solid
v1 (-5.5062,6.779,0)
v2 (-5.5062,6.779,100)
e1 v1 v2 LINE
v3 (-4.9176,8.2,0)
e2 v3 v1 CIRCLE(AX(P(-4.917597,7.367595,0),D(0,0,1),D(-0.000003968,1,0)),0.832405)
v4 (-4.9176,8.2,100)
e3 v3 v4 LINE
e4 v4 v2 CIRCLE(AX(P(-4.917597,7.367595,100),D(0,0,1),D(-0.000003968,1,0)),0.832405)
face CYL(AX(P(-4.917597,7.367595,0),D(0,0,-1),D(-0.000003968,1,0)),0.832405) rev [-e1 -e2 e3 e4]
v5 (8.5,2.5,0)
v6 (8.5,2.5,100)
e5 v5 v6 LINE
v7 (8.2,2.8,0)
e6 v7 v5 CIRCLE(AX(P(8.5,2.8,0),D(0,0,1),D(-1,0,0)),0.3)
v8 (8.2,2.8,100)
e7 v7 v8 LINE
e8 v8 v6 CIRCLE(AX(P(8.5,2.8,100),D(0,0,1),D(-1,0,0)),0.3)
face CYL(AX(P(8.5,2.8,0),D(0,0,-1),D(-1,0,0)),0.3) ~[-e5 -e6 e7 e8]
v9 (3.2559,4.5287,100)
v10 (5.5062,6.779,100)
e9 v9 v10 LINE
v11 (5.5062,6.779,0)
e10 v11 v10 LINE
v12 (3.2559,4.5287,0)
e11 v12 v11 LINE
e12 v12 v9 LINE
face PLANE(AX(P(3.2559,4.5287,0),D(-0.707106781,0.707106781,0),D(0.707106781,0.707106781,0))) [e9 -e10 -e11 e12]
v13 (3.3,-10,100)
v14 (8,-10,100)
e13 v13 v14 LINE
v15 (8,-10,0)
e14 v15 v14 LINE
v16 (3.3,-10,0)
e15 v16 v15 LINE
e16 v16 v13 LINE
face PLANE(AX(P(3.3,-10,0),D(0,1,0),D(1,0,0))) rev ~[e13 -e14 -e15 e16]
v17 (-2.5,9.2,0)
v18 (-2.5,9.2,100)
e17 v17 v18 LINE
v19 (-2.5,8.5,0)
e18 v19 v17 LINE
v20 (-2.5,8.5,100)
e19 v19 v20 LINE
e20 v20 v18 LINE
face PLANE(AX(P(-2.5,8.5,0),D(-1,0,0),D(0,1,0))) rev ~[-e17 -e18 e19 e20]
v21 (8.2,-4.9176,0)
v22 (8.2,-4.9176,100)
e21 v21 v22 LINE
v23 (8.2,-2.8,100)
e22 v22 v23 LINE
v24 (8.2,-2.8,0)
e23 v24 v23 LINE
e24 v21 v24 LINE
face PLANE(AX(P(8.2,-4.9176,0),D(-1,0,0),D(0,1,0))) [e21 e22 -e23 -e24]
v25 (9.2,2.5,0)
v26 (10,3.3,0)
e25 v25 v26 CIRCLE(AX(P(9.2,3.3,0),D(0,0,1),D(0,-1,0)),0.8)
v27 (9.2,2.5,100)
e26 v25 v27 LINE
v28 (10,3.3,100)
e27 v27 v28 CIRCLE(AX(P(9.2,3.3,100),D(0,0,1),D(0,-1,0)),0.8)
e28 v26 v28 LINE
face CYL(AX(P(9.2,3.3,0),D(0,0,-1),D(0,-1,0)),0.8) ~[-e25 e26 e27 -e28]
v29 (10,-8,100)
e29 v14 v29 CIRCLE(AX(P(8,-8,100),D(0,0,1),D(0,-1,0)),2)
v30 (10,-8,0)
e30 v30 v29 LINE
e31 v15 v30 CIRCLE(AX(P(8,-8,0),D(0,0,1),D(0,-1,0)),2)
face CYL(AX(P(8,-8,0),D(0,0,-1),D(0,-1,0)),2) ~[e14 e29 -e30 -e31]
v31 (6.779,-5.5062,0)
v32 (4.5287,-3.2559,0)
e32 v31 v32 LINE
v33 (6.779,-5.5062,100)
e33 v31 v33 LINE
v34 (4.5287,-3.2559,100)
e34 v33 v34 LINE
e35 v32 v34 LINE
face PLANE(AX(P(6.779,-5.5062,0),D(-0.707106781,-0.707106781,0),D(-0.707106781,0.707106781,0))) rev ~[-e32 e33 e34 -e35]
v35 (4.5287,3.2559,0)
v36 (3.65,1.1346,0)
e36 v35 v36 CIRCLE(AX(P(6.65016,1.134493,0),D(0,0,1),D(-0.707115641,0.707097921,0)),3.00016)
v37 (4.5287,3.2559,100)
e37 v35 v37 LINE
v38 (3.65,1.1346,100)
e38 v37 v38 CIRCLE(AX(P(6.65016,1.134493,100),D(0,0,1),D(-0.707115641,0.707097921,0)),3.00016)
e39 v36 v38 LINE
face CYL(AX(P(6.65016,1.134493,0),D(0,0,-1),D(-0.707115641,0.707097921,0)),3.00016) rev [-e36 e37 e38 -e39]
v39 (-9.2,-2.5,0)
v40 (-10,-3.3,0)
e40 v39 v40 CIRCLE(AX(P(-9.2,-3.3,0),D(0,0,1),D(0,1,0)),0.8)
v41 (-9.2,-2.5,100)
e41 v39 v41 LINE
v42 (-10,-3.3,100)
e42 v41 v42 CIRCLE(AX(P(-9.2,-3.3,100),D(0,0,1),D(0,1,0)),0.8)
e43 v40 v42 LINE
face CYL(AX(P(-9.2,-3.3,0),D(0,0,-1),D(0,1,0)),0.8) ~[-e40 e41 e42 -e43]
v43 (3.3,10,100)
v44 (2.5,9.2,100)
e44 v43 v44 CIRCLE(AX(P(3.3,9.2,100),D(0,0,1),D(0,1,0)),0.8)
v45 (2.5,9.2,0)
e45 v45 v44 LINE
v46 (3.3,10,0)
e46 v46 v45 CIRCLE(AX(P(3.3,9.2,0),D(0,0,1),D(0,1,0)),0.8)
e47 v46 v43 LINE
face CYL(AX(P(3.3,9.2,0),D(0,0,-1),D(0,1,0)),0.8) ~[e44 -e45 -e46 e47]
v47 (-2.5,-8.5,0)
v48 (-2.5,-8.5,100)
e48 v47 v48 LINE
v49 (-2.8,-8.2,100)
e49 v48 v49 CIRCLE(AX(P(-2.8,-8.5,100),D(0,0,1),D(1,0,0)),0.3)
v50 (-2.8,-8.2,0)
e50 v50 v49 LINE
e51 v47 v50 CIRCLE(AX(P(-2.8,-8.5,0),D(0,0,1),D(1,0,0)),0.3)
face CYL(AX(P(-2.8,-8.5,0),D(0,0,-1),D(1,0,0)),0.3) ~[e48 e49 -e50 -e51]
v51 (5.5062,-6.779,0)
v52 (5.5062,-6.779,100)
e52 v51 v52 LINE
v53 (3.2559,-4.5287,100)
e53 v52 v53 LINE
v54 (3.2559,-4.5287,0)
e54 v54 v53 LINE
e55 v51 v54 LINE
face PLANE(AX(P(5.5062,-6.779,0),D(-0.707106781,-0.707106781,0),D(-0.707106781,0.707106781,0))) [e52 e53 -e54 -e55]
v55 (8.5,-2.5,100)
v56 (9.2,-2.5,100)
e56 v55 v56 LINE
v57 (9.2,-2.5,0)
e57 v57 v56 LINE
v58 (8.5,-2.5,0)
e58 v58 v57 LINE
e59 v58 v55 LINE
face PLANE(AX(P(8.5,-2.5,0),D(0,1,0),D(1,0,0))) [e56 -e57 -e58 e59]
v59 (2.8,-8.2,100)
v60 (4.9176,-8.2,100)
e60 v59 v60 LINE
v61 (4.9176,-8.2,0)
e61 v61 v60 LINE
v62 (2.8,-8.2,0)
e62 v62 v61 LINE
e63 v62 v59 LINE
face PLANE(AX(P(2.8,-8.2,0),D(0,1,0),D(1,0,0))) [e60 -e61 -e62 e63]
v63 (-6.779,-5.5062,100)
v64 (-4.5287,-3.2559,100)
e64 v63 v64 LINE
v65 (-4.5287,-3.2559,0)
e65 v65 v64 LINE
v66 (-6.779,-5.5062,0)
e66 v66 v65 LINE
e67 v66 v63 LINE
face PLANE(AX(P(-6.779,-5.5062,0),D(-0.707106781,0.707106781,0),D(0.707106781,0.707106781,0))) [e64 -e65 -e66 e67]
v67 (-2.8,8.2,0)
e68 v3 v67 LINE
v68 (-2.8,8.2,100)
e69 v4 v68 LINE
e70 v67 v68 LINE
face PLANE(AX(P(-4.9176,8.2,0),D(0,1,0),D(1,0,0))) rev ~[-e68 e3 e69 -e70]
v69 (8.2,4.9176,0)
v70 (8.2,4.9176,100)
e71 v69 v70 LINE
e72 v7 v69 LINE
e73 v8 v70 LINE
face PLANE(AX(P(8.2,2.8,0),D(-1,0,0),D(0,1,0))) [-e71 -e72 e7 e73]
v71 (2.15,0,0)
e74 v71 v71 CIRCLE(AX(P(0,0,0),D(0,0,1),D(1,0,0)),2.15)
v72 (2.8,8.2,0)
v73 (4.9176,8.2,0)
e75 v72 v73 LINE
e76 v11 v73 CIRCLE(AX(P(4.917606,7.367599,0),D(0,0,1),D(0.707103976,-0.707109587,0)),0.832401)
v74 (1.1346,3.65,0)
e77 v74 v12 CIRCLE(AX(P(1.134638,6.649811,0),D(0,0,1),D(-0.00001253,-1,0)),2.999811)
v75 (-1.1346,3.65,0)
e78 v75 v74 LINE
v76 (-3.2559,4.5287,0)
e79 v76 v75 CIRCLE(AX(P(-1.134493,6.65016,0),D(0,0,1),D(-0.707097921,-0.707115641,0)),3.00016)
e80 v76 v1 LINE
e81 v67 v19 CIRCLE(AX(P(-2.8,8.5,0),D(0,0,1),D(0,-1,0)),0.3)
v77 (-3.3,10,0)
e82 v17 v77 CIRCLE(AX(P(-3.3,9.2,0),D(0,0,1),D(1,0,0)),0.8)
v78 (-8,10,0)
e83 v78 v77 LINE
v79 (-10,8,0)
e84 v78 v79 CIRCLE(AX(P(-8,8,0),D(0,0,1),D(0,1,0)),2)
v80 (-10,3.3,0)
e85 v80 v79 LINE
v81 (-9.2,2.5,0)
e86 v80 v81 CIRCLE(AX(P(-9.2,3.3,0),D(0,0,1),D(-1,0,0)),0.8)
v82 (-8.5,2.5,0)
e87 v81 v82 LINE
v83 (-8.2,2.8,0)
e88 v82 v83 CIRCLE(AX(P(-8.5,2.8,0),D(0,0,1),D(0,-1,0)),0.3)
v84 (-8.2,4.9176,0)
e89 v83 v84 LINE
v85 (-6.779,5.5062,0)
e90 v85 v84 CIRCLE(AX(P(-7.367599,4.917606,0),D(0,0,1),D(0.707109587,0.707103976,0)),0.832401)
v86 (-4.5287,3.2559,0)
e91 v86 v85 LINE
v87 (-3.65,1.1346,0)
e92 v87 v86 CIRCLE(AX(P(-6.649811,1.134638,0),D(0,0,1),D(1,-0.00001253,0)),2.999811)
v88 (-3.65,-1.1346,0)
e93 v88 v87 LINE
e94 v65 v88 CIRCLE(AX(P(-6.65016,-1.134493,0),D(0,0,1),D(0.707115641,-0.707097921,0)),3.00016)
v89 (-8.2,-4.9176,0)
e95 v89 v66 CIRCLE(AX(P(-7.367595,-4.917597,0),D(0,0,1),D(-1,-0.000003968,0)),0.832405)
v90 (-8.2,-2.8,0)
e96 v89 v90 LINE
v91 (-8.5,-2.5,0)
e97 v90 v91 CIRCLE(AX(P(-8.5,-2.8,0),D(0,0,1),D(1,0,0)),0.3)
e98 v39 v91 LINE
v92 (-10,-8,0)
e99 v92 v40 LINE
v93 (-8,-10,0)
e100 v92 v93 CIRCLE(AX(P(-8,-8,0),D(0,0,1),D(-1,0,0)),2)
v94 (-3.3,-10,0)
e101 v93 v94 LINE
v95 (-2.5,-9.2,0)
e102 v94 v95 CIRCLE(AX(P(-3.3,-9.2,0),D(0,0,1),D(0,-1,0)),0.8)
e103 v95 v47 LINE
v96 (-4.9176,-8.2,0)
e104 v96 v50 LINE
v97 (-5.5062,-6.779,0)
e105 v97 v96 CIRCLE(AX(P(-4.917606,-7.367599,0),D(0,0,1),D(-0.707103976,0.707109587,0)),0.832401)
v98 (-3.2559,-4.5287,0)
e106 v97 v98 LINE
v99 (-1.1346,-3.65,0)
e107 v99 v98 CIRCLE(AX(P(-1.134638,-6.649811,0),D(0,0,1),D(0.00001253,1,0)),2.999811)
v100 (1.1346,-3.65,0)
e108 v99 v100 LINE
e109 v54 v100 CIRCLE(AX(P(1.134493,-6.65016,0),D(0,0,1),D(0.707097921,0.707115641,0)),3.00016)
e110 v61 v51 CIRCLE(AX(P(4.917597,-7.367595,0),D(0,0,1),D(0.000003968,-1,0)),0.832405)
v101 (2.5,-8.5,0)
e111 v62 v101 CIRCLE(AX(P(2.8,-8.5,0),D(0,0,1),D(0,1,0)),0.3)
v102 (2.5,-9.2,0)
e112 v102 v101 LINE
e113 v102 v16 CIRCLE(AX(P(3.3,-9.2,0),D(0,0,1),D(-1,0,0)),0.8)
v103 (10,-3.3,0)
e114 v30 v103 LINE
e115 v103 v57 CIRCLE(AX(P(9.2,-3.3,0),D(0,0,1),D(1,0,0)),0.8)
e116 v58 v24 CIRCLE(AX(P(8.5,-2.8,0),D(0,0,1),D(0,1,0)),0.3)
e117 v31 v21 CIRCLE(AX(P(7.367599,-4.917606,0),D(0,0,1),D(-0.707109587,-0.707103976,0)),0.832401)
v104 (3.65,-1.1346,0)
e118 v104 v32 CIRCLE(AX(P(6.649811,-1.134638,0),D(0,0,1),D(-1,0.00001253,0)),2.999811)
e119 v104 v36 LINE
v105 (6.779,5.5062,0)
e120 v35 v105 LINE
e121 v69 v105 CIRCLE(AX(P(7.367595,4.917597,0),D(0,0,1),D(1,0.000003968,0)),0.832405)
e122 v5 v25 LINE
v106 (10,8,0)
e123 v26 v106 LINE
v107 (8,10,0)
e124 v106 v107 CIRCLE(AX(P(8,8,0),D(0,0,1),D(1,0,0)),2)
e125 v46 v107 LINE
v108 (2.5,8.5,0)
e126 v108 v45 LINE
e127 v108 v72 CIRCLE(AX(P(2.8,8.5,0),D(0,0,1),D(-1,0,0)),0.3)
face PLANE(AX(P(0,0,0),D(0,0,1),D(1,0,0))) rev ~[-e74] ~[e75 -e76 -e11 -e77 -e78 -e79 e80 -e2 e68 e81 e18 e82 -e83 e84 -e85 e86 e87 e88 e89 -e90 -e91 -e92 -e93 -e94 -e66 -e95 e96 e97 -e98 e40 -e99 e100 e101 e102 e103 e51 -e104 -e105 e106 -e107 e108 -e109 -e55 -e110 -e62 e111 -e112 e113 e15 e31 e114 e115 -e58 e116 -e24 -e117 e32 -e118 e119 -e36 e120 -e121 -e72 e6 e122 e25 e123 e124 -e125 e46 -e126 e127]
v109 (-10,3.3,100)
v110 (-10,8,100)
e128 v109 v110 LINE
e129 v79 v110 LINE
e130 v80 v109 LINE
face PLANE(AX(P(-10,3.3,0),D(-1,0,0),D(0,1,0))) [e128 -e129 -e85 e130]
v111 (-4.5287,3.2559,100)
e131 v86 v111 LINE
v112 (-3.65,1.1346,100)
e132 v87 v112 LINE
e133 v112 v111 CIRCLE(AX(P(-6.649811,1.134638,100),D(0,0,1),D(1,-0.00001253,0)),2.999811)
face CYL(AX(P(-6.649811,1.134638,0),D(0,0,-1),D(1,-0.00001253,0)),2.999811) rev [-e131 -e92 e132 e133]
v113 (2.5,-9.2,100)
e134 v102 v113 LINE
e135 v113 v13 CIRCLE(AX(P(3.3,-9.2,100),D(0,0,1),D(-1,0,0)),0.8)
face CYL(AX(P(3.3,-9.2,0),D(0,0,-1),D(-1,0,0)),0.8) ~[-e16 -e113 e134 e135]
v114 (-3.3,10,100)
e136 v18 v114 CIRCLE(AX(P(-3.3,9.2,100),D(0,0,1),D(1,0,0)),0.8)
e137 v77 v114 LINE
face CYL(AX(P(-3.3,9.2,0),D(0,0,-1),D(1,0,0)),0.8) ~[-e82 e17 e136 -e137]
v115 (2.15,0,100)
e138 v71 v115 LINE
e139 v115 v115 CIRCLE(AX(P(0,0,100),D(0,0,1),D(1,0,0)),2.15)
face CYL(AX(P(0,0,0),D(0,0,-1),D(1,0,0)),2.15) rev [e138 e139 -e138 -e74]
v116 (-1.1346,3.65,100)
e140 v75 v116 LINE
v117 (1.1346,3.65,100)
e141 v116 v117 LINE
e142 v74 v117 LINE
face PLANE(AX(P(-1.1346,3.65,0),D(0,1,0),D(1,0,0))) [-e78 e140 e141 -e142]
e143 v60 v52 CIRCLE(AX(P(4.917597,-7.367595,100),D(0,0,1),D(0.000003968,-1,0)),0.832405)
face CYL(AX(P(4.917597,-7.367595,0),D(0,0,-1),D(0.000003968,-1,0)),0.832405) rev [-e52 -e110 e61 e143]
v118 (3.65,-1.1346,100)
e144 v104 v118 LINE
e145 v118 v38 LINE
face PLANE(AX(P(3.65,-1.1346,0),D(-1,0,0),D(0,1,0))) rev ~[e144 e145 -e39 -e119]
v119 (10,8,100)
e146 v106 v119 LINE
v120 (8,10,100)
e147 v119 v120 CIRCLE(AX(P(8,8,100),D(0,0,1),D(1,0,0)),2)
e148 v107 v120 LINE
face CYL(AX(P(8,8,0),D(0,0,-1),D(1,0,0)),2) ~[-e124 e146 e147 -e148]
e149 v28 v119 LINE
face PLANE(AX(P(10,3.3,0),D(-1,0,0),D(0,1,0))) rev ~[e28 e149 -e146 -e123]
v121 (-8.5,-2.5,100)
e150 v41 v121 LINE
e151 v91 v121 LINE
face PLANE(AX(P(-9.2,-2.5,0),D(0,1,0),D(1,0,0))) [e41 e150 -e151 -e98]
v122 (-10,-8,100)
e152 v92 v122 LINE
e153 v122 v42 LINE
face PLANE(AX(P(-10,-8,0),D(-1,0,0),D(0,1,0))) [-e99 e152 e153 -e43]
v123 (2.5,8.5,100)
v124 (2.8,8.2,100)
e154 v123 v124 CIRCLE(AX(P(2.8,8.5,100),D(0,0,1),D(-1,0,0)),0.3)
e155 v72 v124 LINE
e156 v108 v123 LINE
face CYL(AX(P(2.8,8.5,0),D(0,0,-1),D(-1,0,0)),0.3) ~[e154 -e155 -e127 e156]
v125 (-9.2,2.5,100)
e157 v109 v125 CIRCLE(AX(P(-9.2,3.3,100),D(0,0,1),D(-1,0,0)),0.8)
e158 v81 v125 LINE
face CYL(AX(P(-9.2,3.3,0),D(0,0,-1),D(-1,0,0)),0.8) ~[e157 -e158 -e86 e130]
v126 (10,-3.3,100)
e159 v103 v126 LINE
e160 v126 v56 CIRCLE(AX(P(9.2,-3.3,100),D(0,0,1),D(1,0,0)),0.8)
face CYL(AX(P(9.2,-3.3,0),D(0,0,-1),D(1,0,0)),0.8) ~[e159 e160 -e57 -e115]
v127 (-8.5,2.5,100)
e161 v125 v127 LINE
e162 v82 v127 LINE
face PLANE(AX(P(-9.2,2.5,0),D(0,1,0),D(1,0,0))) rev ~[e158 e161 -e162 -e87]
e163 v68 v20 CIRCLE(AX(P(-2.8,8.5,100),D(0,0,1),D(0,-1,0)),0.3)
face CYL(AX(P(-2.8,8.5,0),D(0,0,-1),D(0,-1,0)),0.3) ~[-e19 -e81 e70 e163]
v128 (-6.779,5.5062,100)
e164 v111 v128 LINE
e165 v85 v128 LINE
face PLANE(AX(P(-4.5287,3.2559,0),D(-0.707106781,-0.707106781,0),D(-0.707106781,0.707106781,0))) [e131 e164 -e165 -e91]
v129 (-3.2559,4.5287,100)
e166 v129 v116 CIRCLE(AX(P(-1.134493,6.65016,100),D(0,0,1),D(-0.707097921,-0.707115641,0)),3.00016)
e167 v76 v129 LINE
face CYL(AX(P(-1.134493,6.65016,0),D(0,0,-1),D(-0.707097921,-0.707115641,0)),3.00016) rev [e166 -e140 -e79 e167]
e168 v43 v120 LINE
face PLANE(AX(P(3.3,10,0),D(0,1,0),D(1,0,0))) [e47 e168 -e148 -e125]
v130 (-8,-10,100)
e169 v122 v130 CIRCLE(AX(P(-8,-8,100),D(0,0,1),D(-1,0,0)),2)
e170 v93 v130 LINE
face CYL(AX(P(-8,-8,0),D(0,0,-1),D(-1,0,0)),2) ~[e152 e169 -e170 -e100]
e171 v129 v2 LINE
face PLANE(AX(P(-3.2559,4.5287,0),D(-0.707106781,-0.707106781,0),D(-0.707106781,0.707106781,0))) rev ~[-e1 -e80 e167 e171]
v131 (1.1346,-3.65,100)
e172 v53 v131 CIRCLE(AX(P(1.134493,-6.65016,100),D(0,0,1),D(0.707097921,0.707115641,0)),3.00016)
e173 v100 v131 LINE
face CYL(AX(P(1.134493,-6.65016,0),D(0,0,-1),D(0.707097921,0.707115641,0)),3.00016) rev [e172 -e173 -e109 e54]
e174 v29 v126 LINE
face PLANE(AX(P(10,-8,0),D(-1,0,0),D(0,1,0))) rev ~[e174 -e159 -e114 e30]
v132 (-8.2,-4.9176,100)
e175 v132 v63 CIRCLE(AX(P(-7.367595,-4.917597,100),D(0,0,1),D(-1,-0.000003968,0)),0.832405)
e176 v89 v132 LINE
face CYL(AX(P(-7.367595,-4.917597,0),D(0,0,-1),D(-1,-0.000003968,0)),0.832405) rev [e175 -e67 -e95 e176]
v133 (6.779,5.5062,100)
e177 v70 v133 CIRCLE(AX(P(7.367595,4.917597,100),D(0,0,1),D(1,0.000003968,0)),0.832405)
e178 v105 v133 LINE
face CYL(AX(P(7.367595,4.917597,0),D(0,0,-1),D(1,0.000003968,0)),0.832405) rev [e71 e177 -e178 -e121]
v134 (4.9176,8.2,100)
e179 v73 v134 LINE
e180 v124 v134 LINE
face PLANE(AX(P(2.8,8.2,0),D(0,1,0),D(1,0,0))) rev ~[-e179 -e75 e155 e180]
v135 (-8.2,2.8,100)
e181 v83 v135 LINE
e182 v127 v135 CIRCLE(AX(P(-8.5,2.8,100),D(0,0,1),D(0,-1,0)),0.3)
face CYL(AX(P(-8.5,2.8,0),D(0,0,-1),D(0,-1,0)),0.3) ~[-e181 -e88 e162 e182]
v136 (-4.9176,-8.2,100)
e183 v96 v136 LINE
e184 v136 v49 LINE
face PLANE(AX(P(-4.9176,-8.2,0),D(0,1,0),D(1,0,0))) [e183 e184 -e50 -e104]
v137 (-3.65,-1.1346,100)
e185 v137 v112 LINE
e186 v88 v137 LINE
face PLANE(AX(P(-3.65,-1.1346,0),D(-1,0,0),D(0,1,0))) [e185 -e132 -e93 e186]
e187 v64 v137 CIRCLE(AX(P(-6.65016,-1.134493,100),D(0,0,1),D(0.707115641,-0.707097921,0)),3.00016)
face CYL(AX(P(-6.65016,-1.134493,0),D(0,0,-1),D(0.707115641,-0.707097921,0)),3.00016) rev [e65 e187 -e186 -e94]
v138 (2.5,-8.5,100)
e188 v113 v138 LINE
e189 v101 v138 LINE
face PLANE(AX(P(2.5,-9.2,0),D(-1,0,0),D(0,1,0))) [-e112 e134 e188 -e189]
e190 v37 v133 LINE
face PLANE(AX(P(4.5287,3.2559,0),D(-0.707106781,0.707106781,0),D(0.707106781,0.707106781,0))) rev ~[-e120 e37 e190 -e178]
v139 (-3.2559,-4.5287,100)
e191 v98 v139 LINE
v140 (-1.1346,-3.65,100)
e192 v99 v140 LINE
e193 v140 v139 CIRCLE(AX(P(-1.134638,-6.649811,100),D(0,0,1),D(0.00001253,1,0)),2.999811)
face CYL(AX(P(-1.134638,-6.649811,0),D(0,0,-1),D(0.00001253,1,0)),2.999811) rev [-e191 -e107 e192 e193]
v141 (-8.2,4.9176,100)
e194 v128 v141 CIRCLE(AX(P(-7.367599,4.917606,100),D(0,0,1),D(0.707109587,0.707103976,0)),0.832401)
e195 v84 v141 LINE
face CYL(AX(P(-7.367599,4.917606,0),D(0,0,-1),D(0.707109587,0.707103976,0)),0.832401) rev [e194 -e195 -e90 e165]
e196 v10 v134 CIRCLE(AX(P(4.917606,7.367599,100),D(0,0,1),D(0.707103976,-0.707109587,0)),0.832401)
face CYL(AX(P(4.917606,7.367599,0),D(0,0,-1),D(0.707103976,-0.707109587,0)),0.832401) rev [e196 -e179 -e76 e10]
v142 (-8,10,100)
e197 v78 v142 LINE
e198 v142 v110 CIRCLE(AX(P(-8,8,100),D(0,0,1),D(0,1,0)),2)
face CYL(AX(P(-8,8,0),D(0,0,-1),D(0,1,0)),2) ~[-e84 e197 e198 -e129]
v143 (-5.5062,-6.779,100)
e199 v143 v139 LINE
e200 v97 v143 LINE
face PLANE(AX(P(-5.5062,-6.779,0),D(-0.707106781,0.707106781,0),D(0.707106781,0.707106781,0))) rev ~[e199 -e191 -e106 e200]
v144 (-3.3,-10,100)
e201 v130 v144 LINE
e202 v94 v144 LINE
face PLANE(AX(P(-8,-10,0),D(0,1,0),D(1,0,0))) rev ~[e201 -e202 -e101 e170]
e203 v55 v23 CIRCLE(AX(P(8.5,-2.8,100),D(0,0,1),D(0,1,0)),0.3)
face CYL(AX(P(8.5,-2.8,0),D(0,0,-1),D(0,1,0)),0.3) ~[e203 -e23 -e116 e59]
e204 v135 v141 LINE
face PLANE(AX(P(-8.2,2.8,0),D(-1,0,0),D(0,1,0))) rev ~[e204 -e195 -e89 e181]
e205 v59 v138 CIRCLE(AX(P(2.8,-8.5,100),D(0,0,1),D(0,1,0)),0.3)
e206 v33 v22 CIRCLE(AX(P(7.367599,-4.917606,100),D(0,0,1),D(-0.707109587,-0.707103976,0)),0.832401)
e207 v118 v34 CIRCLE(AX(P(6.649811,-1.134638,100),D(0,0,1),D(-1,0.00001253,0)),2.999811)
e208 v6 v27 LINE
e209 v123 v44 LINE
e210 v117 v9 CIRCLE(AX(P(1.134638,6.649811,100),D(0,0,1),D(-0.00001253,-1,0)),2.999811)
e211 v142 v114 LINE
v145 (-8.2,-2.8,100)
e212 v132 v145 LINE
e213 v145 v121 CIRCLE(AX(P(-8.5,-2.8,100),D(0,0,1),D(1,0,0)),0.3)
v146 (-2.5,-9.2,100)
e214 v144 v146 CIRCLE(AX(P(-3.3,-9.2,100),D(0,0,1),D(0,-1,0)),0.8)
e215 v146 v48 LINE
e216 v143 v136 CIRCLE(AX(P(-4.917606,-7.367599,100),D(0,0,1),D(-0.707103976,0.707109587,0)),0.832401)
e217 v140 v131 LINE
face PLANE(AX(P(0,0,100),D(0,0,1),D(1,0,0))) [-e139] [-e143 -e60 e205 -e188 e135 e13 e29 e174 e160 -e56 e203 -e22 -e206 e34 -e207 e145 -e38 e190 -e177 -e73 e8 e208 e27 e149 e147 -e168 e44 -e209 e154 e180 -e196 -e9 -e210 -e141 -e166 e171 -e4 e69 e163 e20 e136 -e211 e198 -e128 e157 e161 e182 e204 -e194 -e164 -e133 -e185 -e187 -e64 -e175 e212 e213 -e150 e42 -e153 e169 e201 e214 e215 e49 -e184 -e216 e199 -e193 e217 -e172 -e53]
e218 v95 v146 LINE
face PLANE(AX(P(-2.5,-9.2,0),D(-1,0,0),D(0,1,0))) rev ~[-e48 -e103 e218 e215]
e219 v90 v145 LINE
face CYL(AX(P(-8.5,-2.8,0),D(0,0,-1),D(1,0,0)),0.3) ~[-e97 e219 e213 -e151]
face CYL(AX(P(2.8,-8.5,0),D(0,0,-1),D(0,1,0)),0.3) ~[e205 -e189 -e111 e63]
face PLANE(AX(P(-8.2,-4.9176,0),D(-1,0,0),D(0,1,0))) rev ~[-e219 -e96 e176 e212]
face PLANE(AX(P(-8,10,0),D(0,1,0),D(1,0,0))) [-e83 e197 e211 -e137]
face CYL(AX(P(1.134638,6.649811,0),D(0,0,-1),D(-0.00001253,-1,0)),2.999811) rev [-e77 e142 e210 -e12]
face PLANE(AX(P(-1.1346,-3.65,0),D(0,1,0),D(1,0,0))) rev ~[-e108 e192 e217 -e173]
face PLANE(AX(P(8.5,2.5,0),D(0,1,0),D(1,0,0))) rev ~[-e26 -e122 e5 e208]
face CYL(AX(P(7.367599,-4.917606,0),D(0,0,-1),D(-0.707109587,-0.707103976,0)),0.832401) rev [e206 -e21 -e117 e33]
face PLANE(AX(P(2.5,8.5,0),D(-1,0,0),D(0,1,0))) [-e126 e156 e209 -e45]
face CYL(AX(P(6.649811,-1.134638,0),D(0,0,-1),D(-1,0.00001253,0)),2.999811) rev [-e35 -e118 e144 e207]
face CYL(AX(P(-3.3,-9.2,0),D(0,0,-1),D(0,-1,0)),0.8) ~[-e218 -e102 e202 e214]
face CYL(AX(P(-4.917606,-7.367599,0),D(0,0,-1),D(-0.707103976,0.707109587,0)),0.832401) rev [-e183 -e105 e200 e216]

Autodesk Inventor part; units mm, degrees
ref_plane "Plan YZ" through (0, 0, 0) normal (1, 0, 0) x (0, 1, 0)
ref_plane "Plan XZ" through (0, 0, 0) normal (0, 1, 0) x (-1, 0, 0)
ref_plane "Plan XY" through (0, 0, 0) normal (0, 0, 1) x (1, 0, 0)
sketch "Esquisse1" plane through (0, 0, 0) normal (0, 0, 1) x (1, 0, 0)
  line L0 (6.779, -5.5062) -> (4.5287, -3.2559)
  line L1 (-4.5287, 3.2559) -> (-6.779, 5.5062)
  line L2 (5.5062, -6.779) -> (3.2559, -4.5287)
  line L3 (-3.2559, 4.5287) -> (-5.5062, 6.779)
  line L4 (3.3, -10) -> (8, -10)
  line L5 (-8, -10) -> (-3.3, -10)
  line L6 (-4.9176, -8.2) -> (-2.8, -8.2)
  line L7 (2.8, -8.2) -> (4.9176, -8.2)
  line L8 (-1.1346, -3.65) -> (1.1346, -3.65)
  line L9 (8.5, -2.5) -> (9.2, -2.5)
  line L10 (-9.2, -2.5) -> (-8.5, -2.5)
  line L11 (8.5, 2.5) -> (9.2, 2.5)
  line L12 (-9.2, 2.5) -> (-8.5, 2.5)
  line L13 (-1.1346, 3.65) -> (1.1346, 3.65)
  line L14 (2.8, 8.2) -> (4.9176, 8.2)
  line L15 (-4.9176, 8.2) -> (-2.8, 8.2)
  line L16 (3.3, 10) -> (8, 10)
  line L17 (-8, 10) -> (-3.3, 10)
  line L18 (4.5287, 3.2559) -> (6.779, 5.5062)
  line L19 (-5.5062, -6.779) -> (-3.2559, -4.5287)
  line L20 (3.2559, 4.5287) -> (5.5062, 6.779)
  line L21 (-6.779, -5.5062) -> (-4.5287, -3.2559)
  line L22 (-10, 3.3) -> (-10, 8)
  line L23 (-10, -8) -> (-10, -3.3)
  line L24 (-8.2, 2.8) -> (-8.2, 4.9176)
  line L25 (-8.2, -4.9176) -> (-8.2, -2.8)
  line L26 (-3.65, -1.1346) -> (-3.65, 1.1346)
  line L27 (-2.5, 8.5) -> (-2.5, 9.2)
  line L28 (-2.5, -9.2) -> (-2.5, -8.5)
  line L29 (2.5, -9.2) -> (2.5, -8.5)
  line L30 (2.5, 8.5) -> (2.5, 9.2)
  line L31 (3.65, -1.1346) -> (3.65, 1.1346)
  line L32 (8.2, -4.9176) -> (8.2, -2.8)
  line L33 (8.2, 2.8) -> (8.2, 4.9176)
  line L34 (10, -8) -> (10, -3.3)
  line L35 (10, 3.3) -> (10, 8)
  arc A0 (-9.2, -2.5) -> (-10, -3.3) centre (-9.2, -3.3) ccw
  arc A1 (-10, 3.3) -> (-9.2, 2.5) centre (-9.2, 3.3) ccw
  arc A2 (-8.2, -2.8) -> (-8.5, -2.5) centre (-8.5, -2.8) ccw
  arc A3 (-8.5, 2.5) -> (-8.2, 2.8) centre (-8.5, 2.8) ccw
  arc A4 (-10, -8) -> (-8, -10) centre (-8, -8) ccw
  arc A5 (-8, 10) -> (-10, 8) centre (-8, 8) ccw
  arc A6 (-8.2, -4.9176) -> (-6.779, -5.5062) centre (-7.3676, -4.9176) ccw
  arc A7 (-6.779, 5.5062) -> (-8.2, 4.9176) centre (-7.3676, 4.9176) ccw
  arc A8 (-4.5287, -3.2559) -> (-3.65, -1.1346) centre (-6.65, -1.1346) ccw
  arc A9 (-3.65, 1.1346) -> (-4.5287, 3.2559) centre (-6.65, 1.1346) ccw
  arc A10 (-5.5062, -6.779) -> (-4.9176, -8.2) centre (-4.9176, -7.3676) ccw
  arc A11 (-4.9176, 8.2) -> (-5.5062, 6.779) centre (-4.9176, 7.3676) ccw
  arc A12 (-3.3, -10) -> (-2.5, -9.2) centre (-3.3, -9.2) ccw
  arc A13 (-2.5, 9.2) -> (-3.3, 10) centre (-3.3, 9.2) ccw
  arc A14 (-2.5, -8.5) -> (-2.8, -8.2) centre (-2.8, -8.5) ccw
  arc A15 (-2.8, 8.2) -> (-2.5, 8.5) centre (-2.8, 8.5) ccw
  arc A16 (-1.1346, -3.65) -> (-3.2559, -4.5287) centre (-1.1346, -6.65) ccw
  arc A17 (-3.2559, 4.5287) -> (-1.1346, 3.65) centre (-1.1346, 6.65) ccw
  circle A18 centre (0, 0) radius 2.15
  arc A19 (3.2559, -4.5287) -> (1.1346, -3.65) centre (1.1346, -6.65) ccw
  arc A20 (1.1346, 3.65) -> (3.2559, 4.5287) centre (1.1346, 6.65) ccw
  arc A21 (2.8, -8.2) -> (2.5, -8.5) centre (2.8, -8.5) ccw
  arc A22 (2.5, 8.5) -> (2.8, 8.2) centre (2.8, 8.5) ccw
  arc A23 (2.5, -9.2) -> (3.3, -10) centre (3.3, -9.2) ccw
  arc A24 (3.3, 10) -> (2.5, 9.2) centre (3.3, 9.2) ccw
  arc A25 (4.9176, -8.2) -> (5.5062, -6.779) centre (4.9176, -7.3676) ccw
  arc A26 (5.5062, 6.779) -> (4.9176, 8.2) centre (4.9176, 7.3676) ccw
  arc A27 (3.65, -1.1346) -> (4.5287, -3.2559) centre (6.65, -1.1346) ccw
  arc A28 (4.5287, 3.2559) -> (3.65, 1.1346) centre (6.65, 1.1346) ccw
  arc A29 (6.779, -5.5062) -> (8.2, -4.9176) centre (7.3676, -4.9176) ccw
  arc A30 (8.2, 4.9176) -> (6.779, 5.5062) centre (7.3676, 4.9176) ccw
  arc A31 (8, -10) -> (10, -8) centre (8, -8) ccw
  arc A32 (10, 8) -> (8, 10) centre (8, 8) ccw
  arc A33 (8.5, -2.5) -> (8.2, -2.8) centre (8.5, -2.8) ccw
  arc A34 (8.2, 2.8) -> (8.5, 2.5) centre (8.5, 2.8) ccw
  arc A35 (10, -3.3) -> (9.2, -2.5) centre (9.2, -3.3) ccw
  arc A36 (9.2, 2.5) -> (10, 3.3) centre (9.2, 3.3) ccw
extrude "Extrusion1" add sketch "Esquisse1" along normal blind 100
properties part number "Item_0037003-100" material "."
